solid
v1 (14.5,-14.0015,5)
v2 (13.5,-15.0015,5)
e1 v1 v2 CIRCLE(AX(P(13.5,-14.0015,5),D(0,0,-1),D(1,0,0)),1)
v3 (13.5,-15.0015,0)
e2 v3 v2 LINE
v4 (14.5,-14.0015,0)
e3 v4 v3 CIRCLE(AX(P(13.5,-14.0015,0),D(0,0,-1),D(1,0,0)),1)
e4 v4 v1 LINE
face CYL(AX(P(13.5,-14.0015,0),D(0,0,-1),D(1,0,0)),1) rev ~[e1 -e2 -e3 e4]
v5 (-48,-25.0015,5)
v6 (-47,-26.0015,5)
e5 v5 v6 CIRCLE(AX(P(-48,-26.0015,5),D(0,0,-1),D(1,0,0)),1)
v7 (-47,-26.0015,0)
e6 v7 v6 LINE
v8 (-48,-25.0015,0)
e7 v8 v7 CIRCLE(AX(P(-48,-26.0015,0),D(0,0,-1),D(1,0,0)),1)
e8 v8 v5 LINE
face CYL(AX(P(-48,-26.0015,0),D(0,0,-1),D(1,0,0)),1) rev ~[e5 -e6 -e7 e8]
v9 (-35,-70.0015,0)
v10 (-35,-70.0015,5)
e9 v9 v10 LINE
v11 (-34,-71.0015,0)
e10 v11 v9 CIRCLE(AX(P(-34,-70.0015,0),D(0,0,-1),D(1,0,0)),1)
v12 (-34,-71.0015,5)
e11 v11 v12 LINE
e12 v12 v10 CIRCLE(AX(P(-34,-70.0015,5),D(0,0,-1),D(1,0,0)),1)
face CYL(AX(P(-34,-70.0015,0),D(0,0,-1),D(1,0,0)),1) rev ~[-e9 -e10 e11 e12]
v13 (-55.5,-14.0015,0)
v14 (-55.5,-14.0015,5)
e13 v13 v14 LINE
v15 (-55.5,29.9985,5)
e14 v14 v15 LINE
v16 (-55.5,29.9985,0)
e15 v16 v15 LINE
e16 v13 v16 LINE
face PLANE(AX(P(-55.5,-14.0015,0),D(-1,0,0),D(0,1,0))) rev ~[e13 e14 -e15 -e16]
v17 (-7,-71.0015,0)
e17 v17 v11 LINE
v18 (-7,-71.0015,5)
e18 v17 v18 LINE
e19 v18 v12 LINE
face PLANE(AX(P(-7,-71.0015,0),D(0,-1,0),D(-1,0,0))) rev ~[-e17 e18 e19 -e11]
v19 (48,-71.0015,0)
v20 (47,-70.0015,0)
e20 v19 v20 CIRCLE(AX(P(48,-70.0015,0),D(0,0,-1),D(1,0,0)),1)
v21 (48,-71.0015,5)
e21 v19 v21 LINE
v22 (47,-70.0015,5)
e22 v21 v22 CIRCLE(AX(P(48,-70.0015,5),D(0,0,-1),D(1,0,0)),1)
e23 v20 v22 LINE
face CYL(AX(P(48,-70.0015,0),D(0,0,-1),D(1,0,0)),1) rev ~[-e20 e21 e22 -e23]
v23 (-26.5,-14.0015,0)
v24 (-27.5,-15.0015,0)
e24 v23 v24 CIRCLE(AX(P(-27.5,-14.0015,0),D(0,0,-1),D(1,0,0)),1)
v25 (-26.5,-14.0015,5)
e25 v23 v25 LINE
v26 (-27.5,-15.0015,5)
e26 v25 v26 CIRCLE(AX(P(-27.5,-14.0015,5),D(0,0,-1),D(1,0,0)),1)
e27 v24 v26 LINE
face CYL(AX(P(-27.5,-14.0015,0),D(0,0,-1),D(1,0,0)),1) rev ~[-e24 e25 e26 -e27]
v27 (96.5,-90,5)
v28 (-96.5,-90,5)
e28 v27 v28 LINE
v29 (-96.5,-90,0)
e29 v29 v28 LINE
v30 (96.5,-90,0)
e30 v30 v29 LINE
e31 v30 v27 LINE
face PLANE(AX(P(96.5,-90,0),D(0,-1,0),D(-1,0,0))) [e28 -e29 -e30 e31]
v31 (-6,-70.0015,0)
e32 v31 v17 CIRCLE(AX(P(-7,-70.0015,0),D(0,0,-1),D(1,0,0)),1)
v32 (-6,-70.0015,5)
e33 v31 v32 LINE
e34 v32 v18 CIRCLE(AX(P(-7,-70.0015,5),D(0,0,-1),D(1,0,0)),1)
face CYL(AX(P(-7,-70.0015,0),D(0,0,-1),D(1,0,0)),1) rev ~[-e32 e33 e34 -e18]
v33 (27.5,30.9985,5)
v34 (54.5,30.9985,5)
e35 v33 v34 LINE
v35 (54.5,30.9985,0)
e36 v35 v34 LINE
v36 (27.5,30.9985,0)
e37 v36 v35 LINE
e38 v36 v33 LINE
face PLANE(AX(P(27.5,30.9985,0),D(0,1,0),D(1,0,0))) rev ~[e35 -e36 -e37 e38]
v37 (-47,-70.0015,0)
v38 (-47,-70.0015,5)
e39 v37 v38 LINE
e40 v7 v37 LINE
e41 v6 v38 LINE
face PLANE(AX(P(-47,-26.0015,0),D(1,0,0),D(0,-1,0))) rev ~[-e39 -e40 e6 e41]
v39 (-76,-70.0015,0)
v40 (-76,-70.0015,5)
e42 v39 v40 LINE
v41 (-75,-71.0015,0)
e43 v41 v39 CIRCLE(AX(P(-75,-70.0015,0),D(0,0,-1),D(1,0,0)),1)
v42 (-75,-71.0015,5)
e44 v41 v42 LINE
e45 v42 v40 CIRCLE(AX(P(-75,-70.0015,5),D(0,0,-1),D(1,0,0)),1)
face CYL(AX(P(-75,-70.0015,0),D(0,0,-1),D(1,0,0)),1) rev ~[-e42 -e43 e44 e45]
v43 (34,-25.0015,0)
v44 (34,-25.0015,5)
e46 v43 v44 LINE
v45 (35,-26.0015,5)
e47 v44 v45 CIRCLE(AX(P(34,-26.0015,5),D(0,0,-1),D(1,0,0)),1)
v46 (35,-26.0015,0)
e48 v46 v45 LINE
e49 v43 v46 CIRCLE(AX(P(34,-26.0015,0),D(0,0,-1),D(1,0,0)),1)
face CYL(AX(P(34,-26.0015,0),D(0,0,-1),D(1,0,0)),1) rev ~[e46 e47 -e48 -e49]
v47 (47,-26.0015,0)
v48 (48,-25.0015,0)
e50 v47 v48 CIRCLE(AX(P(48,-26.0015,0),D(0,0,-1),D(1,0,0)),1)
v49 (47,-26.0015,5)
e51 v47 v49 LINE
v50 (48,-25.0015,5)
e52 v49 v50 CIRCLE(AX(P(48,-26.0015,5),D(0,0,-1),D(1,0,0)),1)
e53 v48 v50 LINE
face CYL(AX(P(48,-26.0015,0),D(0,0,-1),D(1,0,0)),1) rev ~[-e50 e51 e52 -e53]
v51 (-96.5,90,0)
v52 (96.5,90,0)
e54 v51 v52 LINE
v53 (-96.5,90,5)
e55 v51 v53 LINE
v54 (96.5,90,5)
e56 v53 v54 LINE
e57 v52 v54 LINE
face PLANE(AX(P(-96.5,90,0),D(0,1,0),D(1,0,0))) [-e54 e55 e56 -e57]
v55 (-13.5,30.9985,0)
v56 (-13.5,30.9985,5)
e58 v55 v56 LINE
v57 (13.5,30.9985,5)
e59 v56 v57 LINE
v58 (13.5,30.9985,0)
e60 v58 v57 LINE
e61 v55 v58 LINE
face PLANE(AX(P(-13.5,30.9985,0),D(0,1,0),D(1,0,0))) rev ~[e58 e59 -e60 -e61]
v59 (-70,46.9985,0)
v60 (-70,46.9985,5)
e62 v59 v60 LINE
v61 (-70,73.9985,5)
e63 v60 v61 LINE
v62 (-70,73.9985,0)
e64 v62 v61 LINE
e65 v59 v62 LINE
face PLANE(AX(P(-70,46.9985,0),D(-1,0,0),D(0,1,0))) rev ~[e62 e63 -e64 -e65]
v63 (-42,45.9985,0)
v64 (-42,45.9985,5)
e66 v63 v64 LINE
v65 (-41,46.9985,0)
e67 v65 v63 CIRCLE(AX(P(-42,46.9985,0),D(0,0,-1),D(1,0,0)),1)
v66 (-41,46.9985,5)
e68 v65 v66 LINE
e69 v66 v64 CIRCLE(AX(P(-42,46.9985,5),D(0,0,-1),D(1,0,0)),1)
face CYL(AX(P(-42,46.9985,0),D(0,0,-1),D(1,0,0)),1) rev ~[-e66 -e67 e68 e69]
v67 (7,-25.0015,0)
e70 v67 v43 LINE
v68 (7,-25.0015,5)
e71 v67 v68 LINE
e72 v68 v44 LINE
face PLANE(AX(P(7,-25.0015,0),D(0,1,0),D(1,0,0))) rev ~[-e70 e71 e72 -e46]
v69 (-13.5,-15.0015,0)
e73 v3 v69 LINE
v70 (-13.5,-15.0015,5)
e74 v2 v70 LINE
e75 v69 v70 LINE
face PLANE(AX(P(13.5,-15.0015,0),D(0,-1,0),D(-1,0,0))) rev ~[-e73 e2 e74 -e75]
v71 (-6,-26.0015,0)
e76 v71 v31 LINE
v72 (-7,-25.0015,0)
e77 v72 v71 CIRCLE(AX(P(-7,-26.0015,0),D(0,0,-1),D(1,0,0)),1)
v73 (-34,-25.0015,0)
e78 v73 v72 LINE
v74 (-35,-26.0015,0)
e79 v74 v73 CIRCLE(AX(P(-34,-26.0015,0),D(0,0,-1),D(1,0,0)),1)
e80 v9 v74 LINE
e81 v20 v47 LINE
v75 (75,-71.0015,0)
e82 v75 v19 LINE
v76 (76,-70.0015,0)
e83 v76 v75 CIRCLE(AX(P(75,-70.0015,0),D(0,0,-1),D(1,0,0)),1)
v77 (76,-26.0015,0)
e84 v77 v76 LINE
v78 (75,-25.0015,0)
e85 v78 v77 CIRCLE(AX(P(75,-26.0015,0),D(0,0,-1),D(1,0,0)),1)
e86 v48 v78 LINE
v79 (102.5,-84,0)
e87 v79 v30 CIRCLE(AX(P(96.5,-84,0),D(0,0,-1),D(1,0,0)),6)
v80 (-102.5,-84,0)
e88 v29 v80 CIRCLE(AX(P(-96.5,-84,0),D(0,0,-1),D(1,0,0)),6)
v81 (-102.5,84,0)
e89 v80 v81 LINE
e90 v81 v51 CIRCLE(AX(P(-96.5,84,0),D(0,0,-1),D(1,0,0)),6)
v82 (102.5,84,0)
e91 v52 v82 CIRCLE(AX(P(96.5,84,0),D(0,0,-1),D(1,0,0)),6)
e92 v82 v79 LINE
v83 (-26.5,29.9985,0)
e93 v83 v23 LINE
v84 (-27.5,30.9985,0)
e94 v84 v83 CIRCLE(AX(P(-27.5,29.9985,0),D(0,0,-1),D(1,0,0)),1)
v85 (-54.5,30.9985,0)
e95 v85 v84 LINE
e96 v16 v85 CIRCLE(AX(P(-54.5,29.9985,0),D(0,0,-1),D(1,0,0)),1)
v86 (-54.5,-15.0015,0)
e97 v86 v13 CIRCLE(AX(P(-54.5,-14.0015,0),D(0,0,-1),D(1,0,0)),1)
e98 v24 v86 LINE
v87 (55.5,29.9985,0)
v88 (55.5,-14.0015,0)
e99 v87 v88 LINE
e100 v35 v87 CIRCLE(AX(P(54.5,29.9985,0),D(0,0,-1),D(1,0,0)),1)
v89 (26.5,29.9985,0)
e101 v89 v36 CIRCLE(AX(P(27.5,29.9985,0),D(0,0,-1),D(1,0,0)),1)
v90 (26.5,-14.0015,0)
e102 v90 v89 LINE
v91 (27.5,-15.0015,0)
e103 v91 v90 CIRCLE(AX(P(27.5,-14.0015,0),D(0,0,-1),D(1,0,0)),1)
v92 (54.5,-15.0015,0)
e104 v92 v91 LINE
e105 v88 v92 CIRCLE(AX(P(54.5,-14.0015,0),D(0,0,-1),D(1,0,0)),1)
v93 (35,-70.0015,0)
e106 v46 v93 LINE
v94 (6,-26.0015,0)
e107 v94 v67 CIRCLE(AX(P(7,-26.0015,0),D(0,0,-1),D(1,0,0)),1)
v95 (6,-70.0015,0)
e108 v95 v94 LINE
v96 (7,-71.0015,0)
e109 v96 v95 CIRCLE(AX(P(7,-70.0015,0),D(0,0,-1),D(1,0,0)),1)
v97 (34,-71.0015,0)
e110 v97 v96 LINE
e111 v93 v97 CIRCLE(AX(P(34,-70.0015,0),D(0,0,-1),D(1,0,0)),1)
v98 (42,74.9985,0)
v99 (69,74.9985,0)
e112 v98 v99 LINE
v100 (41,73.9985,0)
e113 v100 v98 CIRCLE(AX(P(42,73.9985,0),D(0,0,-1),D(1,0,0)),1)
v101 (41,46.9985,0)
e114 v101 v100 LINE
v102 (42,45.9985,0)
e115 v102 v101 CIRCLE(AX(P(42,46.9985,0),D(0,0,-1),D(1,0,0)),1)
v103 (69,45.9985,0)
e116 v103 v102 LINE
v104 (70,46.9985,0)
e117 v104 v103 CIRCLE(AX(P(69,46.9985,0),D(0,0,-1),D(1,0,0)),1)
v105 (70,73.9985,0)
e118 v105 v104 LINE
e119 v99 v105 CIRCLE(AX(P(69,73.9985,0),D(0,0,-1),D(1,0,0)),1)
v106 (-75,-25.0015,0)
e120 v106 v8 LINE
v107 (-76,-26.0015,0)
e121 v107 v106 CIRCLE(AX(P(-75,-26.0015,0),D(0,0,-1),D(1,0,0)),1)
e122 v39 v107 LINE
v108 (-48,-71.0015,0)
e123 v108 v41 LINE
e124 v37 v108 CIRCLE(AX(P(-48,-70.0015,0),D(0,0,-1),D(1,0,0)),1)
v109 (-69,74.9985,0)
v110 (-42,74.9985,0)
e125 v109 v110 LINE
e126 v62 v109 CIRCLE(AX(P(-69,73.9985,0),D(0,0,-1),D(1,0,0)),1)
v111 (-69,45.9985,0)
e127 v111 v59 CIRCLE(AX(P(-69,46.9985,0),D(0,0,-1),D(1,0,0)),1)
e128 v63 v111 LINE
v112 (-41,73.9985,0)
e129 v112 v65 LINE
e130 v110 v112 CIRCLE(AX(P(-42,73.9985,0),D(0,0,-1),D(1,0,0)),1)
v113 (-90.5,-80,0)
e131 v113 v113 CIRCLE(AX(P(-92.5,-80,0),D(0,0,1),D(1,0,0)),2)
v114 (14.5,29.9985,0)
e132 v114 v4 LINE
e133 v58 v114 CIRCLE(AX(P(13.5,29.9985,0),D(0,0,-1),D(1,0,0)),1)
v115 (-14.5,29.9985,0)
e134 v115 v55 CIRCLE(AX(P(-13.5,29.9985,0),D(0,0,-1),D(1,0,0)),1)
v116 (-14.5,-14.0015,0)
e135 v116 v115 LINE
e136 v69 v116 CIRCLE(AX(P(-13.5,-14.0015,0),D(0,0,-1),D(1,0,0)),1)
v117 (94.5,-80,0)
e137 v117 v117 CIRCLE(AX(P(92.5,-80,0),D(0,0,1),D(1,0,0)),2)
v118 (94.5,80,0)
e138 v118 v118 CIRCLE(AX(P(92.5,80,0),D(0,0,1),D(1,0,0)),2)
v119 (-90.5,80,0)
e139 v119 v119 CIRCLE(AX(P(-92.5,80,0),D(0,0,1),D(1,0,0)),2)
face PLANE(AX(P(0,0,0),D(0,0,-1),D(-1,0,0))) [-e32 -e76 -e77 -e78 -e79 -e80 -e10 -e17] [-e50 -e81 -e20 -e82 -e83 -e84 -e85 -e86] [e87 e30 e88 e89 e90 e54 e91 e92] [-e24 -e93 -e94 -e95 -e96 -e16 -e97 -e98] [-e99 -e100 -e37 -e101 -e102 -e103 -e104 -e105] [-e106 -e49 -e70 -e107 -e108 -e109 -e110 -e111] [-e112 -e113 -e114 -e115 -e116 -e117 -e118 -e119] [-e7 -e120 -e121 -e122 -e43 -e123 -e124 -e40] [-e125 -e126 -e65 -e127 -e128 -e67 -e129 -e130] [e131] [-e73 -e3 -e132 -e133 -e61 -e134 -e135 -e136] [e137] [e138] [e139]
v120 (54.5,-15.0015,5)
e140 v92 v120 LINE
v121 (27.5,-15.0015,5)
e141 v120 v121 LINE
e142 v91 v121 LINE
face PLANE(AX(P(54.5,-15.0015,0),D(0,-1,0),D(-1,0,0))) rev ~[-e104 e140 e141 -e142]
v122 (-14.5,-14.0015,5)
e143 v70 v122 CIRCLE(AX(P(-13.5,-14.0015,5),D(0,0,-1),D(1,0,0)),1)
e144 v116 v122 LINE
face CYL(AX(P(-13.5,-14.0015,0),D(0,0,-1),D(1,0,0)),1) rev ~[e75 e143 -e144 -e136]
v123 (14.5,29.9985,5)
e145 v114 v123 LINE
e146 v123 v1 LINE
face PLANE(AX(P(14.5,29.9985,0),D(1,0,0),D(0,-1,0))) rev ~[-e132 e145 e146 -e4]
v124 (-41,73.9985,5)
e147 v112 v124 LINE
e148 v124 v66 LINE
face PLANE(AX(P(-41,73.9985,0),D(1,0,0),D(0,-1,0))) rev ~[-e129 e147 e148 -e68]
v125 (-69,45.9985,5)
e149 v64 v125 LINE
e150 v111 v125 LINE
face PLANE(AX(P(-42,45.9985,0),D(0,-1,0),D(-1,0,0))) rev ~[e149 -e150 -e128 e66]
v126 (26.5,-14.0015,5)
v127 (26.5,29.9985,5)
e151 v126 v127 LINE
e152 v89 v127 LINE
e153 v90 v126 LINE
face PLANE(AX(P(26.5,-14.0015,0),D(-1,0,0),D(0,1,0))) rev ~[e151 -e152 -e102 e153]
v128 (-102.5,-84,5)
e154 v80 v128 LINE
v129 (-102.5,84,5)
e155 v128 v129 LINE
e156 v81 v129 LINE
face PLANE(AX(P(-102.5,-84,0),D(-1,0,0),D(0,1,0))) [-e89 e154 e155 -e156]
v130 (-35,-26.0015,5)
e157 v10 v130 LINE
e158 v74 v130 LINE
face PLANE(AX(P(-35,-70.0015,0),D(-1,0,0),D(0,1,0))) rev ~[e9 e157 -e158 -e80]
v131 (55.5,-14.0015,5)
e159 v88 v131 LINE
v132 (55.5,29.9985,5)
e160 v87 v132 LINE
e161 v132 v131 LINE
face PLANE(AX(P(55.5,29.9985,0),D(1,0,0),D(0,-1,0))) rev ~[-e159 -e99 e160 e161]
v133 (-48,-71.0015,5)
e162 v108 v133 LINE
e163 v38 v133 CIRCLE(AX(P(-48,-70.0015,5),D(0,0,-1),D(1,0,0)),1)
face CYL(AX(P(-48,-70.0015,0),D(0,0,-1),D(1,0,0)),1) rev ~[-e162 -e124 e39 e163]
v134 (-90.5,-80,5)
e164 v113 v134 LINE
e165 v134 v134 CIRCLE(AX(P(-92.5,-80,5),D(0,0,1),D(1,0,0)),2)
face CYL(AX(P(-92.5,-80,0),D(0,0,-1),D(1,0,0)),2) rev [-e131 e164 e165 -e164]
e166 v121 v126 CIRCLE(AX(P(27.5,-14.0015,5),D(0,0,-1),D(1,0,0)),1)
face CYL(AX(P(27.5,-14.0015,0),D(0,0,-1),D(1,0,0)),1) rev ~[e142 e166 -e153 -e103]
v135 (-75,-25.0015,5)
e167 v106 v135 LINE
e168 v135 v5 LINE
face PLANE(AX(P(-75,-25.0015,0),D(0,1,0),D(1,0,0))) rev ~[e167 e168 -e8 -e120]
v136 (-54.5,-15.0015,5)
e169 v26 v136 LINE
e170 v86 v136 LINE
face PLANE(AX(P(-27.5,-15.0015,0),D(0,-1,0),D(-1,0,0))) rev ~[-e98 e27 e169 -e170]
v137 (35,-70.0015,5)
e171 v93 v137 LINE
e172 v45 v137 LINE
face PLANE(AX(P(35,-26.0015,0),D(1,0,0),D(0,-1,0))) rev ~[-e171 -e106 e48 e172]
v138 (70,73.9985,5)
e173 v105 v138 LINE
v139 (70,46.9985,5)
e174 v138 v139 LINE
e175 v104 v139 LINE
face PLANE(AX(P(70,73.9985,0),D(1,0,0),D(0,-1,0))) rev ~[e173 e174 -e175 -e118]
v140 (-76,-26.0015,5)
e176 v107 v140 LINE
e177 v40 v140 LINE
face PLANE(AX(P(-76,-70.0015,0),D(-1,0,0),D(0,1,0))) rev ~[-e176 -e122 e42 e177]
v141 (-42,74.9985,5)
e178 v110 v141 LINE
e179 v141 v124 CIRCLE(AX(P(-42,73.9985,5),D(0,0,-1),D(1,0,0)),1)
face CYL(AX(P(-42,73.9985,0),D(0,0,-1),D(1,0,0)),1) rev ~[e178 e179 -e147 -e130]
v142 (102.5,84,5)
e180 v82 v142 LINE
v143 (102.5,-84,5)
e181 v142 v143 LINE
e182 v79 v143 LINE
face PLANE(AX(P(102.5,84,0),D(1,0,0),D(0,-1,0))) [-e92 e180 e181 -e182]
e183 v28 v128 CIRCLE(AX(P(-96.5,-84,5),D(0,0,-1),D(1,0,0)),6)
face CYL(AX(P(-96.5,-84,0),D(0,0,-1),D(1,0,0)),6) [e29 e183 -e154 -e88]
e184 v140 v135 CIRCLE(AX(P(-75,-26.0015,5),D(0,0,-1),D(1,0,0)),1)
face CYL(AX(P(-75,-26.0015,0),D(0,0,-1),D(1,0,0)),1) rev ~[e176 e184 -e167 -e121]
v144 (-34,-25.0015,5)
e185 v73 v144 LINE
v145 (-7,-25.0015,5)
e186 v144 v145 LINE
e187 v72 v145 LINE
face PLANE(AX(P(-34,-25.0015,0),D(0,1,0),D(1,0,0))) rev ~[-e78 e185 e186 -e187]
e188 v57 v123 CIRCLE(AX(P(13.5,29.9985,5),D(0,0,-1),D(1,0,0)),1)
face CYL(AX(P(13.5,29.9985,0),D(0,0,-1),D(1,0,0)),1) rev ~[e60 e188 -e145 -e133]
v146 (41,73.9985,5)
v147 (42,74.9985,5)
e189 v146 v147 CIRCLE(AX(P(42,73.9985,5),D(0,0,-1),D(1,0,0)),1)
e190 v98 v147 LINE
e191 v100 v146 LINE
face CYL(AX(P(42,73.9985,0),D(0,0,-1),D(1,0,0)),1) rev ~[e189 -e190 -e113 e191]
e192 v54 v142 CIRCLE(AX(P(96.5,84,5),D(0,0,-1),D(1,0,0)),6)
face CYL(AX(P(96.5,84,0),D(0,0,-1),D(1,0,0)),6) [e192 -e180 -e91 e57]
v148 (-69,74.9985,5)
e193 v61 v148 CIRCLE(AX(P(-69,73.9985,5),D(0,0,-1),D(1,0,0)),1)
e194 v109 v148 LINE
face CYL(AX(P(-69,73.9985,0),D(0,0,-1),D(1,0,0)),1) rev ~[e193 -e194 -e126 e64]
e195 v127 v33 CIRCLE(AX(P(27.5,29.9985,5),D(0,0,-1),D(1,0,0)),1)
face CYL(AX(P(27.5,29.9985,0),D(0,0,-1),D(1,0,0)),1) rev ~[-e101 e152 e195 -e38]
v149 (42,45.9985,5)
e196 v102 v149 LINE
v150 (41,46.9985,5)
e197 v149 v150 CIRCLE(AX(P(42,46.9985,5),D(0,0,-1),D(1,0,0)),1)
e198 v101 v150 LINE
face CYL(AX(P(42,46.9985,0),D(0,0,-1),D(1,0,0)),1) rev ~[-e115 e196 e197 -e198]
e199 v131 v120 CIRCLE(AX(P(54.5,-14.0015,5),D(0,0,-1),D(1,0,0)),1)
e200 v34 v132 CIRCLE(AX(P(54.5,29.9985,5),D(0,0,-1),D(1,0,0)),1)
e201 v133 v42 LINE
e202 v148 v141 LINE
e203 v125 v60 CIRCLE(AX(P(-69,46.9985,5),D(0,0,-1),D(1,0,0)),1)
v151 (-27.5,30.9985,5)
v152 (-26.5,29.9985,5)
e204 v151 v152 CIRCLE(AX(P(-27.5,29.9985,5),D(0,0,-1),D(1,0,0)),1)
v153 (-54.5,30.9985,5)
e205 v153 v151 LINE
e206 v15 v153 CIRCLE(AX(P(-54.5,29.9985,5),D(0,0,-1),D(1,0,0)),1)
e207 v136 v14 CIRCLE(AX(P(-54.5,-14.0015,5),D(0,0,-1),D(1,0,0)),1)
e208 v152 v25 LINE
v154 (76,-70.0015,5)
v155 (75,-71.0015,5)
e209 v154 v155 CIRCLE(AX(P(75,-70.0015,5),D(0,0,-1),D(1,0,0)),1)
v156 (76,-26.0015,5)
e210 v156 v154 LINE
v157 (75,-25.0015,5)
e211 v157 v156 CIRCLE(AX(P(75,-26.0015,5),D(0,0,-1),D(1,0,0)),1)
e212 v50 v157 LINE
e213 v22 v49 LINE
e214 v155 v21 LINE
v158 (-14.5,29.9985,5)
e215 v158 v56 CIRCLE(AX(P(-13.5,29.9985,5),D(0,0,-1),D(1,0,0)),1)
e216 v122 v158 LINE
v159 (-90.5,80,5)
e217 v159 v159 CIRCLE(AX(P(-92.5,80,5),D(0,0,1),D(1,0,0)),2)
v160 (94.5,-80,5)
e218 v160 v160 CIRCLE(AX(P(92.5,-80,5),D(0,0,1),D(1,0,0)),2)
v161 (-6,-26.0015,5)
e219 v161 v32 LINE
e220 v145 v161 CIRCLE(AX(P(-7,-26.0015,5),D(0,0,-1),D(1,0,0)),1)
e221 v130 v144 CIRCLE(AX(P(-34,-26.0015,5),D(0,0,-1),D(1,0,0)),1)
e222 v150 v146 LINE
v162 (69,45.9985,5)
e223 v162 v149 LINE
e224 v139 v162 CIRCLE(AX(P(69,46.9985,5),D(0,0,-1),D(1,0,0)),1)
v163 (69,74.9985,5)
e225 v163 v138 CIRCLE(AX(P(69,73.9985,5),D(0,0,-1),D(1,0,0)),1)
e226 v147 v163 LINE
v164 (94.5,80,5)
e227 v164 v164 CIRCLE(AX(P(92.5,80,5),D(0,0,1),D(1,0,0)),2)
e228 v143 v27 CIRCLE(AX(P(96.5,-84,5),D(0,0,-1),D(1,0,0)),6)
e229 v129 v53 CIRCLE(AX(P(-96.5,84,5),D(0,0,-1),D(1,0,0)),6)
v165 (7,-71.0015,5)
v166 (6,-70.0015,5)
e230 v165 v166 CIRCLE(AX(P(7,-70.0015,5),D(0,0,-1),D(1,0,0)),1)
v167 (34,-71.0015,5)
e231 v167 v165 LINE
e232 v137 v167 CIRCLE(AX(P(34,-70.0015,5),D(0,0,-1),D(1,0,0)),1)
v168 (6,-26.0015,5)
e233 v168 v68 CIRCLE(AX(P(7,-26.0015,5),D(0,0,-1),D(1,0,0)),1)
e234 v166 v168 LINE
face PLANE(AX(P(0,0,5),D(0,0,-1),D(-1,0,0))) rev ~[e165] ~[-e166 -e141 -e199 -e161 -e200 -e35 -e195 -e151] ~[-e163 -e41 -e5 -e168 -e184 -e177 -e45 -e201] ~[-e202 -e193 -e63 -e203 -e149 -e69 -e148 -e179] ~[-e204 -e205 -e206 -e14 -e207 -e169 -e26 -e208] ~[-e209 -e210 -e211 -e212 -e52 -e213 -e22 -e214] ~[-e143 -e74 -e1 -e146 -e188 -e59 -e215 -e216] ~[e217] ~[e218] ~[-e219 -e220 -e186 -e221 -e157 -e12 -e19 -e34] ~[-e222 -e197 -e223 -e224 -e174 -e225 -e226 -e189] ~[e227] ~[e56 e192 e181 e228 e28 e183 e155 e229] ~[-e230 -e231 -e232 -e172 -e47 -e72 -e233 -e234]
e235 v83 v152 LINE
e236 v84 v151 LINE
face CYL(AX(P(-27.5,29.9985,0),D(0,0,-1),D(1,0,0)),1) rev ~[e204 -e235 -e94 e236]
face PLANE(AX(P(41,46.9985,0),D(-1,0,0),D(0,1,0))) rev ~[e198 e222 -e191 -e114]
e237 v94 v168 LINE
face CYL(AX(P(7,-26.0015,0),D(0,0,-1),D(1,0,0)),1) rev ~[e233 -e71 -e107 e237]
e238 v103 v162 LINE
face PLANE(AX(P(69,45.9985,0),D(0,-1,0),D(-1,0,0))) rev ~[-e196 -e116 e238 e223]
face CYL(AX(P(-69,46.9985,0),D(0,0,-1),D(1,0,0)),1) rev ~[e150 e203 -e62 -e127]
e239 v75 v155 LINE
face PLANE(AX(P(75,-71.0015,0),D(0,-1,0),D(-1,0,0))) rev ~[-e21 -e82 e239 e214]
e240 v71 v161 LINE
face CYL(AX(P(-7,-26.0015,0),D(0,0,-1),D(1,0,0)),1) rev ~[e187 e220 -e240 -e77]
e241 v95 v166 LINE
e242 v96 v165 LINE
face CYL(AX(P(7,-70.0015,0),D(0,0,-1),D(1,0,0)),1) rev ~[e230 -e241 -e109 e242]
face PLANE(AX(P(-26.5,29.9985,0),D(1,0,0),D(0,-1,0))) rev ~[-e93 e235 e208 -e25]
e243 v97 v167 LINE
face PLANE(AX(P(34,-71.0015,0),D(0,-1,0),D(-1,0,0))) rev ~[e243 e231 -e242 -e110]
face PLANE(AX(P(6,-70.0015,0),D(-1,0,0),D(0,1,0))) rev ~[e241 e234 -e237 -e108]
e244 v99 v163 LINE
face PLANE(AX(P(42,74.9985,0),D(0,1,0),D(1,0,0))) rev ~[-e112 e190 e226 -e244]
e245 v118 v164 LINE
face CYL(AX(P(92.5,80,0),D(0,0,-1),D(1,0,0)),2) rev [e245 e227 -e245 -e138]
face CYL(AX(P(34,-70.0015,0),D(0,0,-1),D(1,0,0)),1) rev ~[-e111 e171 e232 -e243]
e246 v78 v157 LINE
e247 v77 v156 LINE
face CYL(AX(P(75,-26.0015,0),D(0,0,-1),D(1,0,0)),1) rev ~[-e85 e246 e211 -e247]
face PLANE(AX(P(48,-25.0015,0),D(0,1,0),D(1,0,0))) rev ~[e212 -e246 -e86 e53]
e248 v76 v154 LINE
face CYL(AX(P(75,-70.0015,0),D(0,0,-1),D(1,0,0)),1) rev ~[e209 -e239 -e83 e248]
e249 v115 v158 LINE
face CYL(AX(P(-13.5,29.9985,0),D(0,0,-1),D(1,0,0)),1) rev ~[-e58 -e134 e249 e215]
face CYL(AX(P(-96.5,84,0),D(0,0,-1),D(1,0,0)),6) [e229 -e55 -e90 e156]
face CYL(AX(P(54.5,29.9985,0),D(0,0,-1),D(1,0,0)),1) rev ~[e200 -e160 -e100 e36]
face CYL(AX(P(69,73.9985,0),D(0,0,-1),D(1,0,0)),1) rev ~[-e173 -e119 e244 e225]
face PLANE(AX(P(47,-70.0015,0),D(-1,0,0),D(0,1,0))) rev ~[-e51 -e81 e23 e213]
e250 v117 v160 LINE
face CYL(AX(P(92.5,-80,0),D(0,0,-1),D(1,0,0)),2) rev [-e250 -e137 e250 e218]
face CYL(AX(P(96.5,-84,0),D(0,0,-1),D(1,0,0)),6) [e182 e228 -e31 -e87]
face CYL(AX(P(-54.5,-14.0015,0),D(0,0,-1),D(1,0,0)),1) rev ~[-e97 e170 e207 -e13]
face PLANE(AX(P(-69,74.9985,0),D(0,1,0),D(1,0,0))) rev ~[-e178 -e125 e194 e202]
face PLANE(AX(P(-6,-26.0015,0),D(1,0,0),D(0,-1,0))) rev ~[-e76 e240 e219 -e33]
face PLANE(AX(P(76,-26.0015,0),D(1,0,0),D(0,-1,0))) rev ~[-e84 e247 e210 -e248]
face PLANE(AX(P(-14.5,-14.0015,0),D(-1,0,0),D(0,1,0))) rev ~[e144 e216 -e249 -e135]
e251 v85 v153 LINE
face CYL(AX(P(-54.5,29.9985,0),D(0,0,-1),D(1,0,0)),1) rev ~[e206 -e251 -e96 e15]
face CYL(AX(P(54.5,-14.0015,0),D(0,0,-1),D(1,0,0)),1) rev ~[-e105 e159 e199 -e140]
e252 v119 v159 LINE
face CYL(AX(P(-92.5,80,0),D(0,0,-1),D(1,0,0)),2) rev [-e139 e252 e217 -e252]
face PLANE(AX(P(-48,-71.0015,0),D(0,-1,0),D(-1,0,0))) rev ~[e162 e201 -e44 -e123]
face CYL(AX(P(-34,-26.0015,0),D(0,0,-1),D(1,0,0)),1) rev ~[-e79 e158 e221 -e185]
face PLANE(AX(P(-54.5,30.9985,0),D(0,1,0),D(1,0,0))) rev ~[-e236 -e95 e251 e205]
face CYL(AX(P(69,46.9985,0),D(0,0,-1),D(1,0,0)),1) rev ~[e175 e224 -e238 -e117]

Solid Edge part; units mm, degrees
sketch "Sketch1" plane through (0, 0, 0) normal (0, 0, 1) x (1, 0, 0)
  circle A0 centre (92.5, 80) radius 2
  circle A1 centre (-92.5, 80) radius 2
  circle A2 centre (-92.5, -80) radius 2
  arc A3 (-48, -25.0015) -> (-47, -26.0015) centre (-48, -26.0015) cw
  line L0 (-47, -26.0015) -> (-47, -70.0015)
  arc A4 (-47, -70.0015) -> (-48, -71.0015) centre (-48, -70.0015) cw
  line L1 (-48, -71.0015) -> (-75, -71.0015)
  arc A5 (-75, -71.0015) -> (-76, -70.0015) centre (-75, -70.0015) cw
  line L2 (-76, -70.0015) -> (-76, -26.0015)
  arc A6 (-76, -26.0015) -> (-75, -25.0015) centre (-75, -26.0015) cw
  line L3 (-75, -25.0015) -> (-48, -25.0015)
  arc A7 (-7, -25.0015) -> (-6, -26.0015) centre (-7, -26.0015) cw
  line L4 (-6, -26.0015) -> (-6, -70.0015)
  arc A8 (-6, -70.0015) -> (-7, -71.0015) centre (-7, -70.0015) cw
  line L5 (-7, -71.0015) -> (-34, -71.0015)
  arc A9 (-34, -71.0015) -> (-35, -70.0015) centre (-34, -70.0015) cw
  line L6 (-35, -70.0015) -> (-35, -26.0015)
  arc A10 (-35, -26.0015) -> (-34, -25.0015) centre (-34, -26.0015) cw
  line L7 (-34, -25.0015) -> (-7, -25.0015)
  arc A11 (34, -25.0015) -> (35, -26.0015) centre (34, -26.0015) cw
  line L8 (35, -26.0015) -> (35, -70.0015)
  arc A12 (35, -70.0015) -> (34, -71.0015) centre (34, -70.0015) cw
  line L9 (34, -71.0015) -> (7, -71.0015)
  arc A13 (7, -71.0015) -> (6, -70.0015) centre (7, -70.0015) cw
  line L10 (6, -70.0015) -> (6, -26.0015)
  arc A14 (6, -26.0015) -> (7, -25.0015) centre (7, -26.0015) cw
  line L11 (7, -25.0015) -> (34, -25.0015)
  arc A15 (75, -25.0015) -> (76, -26.0015) centre (75, -26.0015) cw
  line L12 (76, -26.0015) -> (76, -70.0015)
  arc A16 (76, -70.0015) -> (75, -71.0015) centre (75, -70.0015) cw
  line L13 (75, -71.0015) -> (48, -71.0015)
  arc A17 (48, -71.0015) -> (47, -70.0015) centre (48, -70.0015) cw
  line L14 (47, -70.0015) -> (47, -26.0015)
  arc A18 (47, -26.0015) -> (48, -25.0015) centre (48, -26.0015) cw
  line L15 (48, -25.0015) -> (75, -25.0015)
  arc A19 (54.5, 30.9985) -> (55.5, 29.9985) centre (54.5, 29.9985) cw
  line L16 (55.5, 29.9985) -> (55.5, -14.0015)
  arc A20 (55.5, -14.0015) -> (54.5, -15.0015) centre (54.5, -14.0015) cw
  line L17 (54.5, -15.0015) -> (27.5, -15.0015)
  arc A21 (27.5, -15.0015) -> (26.5, -14.0015) centre (27.5, -14.0015) cw
  line L18 (26.5, -14.0015) -> (26.5, 29.9985)
  arc A22 (26.5, 29.9985) -> (27.5, 30.9985) centre (27.5, 29.9985) cw
  line L19 (27.5, 30.9985) -> (54.5, 30.9985)
  arc A23 (13.5, 30.9985) -> (14.5, 29.9985) centre (13.5, 29.9985) cw
  line L20 (14.5, 29.9985) -> (14.5, -14.0015)
  arc A24 (14.5, -14.0015) -> (13.5, -15.0015) centre (13.5, -14.0015) cw
  line L21 (13.5, -15.0015) -> (-13.5, -15.0015)
  arc A25 (-13.5, -15.0015) -> (-14.5, -14.0015) centre (-13.5, -14.0015) cw
  line L22 (-14.5, -14.0015) -> (-14.5, 29.9985)
  arc A26 (-14.5, 29.9985) -> (-13.5, 30.9985) centre (-13.5, 29.9985) cw
  line L23 (-13.5, 30.9985) -> (13.5, 30.9985)
  arc A27 (69, 74.9985) -> (70, 73.9985) centre (69, 73.9985) cw
  line L24 (70, 73.9985) -> (70, 46.9985)
  arc A28 (70, 46.9985) -> (69, 45.9985) centre (69, 46.9985) cw
  line L25 (69, 45.9985) -> (42, 45.9985)
  arc A29 (42, 45.9985) -> (41, 46.9985) centre (42, 46.9985) cw
  line L26 (41, 46.9985) -> (41, 73.9985)
  arc A30 (41, 73.9985) -> (42, 74.9985) centre (42, 73.9985) cw
  line L27 (42, 74.9985) -> (69, 74.9985)
  arc A31 (96.5, 90) -> (102.5, 84) centre (96.5, 84) cw
  line L28 (102.5, 84) -> (102.5, -84)
  arc A32 (102.5, -84) -> (96.5, -90) centre (96.5, -84) cw
  line L29 (96.5, -90) -> (-96.5, -90)
  arc A33 (-96.5, -90) -> (-102.5, -84) centre (-96.5, -84) cw
  line L30 (-102.5, -84) -> (-102.5, 84)
  arc A34 (-102.5, 84) -> (-96.5, 90) centre (-96.5, 84) cw
  line L31 (-96.5, 90) -> (96.5, 90)
  arc A35 (-42, 74.9985) -> (-41, 73.9985) centre (-42, 73.9985) cw
  line L32 (-41, 73.9985) -> (-41, 46.9985)
  arc A36 (-41, 46.9985) -> (-42, 45.9985) centre (-42, 46.9985) cw
  line L33 (-42, 45.9985) -> (-69, 45.9985)
  arc A37 (-69, 45.9985) -> (-70, 46.9985) centre (-69, 46.9985) cw
  line L34 (-70, 46.9985) -> (-70, 73.9985)
  arc A38 (-70, 73.9985) -> (-69, 74.9985) centre (-69, 73.9985) cw
  line L35 (-69, 74.9985) -> (-42, 74.9985)
  arc A39 (-27.5, 30.9985) -> (-26.5, 29.9985) centre (-27.5, 29.9985) cw
  line L36 (-26.5, 29.9985) -> (-26.5, -14.0015)
  arc A40 (-26.5, -14.0015) -> (-27.5, -15.0015) centre (-27.5, -14.0015) cw
  line L37 (-27.5, -15.0015) -> (-54.5, -15.0015)
  arc A41 (-54.5, -15.0015) -> (-55.5, -14.0015) centre (-54.5, -14.0015) cw
  line L38 (-55.5, -14.0015) -> (-55.5, 29.9985)
  arc A42 (-55.5, 29.9985) -> (-54.5, 30.9985) centre (-54.5, 29.9985) cw
  line L39 (-54.5, 30.9985) -> (-27.5, 30.9985)
  circle A43 centre (92.5, -80) radius 2
  dimension "D1" = 6
  dimension "D2" = 205
  dimension "D3" = 180
  dimension "D4" = 10
  dimension "D5" = 10
  dimension "D6" = 10
  dimension "D7" = 10
  dimension "D8" = 4
extrude "Protrusion1" add sketch "Sketch1" along normal blind 5
